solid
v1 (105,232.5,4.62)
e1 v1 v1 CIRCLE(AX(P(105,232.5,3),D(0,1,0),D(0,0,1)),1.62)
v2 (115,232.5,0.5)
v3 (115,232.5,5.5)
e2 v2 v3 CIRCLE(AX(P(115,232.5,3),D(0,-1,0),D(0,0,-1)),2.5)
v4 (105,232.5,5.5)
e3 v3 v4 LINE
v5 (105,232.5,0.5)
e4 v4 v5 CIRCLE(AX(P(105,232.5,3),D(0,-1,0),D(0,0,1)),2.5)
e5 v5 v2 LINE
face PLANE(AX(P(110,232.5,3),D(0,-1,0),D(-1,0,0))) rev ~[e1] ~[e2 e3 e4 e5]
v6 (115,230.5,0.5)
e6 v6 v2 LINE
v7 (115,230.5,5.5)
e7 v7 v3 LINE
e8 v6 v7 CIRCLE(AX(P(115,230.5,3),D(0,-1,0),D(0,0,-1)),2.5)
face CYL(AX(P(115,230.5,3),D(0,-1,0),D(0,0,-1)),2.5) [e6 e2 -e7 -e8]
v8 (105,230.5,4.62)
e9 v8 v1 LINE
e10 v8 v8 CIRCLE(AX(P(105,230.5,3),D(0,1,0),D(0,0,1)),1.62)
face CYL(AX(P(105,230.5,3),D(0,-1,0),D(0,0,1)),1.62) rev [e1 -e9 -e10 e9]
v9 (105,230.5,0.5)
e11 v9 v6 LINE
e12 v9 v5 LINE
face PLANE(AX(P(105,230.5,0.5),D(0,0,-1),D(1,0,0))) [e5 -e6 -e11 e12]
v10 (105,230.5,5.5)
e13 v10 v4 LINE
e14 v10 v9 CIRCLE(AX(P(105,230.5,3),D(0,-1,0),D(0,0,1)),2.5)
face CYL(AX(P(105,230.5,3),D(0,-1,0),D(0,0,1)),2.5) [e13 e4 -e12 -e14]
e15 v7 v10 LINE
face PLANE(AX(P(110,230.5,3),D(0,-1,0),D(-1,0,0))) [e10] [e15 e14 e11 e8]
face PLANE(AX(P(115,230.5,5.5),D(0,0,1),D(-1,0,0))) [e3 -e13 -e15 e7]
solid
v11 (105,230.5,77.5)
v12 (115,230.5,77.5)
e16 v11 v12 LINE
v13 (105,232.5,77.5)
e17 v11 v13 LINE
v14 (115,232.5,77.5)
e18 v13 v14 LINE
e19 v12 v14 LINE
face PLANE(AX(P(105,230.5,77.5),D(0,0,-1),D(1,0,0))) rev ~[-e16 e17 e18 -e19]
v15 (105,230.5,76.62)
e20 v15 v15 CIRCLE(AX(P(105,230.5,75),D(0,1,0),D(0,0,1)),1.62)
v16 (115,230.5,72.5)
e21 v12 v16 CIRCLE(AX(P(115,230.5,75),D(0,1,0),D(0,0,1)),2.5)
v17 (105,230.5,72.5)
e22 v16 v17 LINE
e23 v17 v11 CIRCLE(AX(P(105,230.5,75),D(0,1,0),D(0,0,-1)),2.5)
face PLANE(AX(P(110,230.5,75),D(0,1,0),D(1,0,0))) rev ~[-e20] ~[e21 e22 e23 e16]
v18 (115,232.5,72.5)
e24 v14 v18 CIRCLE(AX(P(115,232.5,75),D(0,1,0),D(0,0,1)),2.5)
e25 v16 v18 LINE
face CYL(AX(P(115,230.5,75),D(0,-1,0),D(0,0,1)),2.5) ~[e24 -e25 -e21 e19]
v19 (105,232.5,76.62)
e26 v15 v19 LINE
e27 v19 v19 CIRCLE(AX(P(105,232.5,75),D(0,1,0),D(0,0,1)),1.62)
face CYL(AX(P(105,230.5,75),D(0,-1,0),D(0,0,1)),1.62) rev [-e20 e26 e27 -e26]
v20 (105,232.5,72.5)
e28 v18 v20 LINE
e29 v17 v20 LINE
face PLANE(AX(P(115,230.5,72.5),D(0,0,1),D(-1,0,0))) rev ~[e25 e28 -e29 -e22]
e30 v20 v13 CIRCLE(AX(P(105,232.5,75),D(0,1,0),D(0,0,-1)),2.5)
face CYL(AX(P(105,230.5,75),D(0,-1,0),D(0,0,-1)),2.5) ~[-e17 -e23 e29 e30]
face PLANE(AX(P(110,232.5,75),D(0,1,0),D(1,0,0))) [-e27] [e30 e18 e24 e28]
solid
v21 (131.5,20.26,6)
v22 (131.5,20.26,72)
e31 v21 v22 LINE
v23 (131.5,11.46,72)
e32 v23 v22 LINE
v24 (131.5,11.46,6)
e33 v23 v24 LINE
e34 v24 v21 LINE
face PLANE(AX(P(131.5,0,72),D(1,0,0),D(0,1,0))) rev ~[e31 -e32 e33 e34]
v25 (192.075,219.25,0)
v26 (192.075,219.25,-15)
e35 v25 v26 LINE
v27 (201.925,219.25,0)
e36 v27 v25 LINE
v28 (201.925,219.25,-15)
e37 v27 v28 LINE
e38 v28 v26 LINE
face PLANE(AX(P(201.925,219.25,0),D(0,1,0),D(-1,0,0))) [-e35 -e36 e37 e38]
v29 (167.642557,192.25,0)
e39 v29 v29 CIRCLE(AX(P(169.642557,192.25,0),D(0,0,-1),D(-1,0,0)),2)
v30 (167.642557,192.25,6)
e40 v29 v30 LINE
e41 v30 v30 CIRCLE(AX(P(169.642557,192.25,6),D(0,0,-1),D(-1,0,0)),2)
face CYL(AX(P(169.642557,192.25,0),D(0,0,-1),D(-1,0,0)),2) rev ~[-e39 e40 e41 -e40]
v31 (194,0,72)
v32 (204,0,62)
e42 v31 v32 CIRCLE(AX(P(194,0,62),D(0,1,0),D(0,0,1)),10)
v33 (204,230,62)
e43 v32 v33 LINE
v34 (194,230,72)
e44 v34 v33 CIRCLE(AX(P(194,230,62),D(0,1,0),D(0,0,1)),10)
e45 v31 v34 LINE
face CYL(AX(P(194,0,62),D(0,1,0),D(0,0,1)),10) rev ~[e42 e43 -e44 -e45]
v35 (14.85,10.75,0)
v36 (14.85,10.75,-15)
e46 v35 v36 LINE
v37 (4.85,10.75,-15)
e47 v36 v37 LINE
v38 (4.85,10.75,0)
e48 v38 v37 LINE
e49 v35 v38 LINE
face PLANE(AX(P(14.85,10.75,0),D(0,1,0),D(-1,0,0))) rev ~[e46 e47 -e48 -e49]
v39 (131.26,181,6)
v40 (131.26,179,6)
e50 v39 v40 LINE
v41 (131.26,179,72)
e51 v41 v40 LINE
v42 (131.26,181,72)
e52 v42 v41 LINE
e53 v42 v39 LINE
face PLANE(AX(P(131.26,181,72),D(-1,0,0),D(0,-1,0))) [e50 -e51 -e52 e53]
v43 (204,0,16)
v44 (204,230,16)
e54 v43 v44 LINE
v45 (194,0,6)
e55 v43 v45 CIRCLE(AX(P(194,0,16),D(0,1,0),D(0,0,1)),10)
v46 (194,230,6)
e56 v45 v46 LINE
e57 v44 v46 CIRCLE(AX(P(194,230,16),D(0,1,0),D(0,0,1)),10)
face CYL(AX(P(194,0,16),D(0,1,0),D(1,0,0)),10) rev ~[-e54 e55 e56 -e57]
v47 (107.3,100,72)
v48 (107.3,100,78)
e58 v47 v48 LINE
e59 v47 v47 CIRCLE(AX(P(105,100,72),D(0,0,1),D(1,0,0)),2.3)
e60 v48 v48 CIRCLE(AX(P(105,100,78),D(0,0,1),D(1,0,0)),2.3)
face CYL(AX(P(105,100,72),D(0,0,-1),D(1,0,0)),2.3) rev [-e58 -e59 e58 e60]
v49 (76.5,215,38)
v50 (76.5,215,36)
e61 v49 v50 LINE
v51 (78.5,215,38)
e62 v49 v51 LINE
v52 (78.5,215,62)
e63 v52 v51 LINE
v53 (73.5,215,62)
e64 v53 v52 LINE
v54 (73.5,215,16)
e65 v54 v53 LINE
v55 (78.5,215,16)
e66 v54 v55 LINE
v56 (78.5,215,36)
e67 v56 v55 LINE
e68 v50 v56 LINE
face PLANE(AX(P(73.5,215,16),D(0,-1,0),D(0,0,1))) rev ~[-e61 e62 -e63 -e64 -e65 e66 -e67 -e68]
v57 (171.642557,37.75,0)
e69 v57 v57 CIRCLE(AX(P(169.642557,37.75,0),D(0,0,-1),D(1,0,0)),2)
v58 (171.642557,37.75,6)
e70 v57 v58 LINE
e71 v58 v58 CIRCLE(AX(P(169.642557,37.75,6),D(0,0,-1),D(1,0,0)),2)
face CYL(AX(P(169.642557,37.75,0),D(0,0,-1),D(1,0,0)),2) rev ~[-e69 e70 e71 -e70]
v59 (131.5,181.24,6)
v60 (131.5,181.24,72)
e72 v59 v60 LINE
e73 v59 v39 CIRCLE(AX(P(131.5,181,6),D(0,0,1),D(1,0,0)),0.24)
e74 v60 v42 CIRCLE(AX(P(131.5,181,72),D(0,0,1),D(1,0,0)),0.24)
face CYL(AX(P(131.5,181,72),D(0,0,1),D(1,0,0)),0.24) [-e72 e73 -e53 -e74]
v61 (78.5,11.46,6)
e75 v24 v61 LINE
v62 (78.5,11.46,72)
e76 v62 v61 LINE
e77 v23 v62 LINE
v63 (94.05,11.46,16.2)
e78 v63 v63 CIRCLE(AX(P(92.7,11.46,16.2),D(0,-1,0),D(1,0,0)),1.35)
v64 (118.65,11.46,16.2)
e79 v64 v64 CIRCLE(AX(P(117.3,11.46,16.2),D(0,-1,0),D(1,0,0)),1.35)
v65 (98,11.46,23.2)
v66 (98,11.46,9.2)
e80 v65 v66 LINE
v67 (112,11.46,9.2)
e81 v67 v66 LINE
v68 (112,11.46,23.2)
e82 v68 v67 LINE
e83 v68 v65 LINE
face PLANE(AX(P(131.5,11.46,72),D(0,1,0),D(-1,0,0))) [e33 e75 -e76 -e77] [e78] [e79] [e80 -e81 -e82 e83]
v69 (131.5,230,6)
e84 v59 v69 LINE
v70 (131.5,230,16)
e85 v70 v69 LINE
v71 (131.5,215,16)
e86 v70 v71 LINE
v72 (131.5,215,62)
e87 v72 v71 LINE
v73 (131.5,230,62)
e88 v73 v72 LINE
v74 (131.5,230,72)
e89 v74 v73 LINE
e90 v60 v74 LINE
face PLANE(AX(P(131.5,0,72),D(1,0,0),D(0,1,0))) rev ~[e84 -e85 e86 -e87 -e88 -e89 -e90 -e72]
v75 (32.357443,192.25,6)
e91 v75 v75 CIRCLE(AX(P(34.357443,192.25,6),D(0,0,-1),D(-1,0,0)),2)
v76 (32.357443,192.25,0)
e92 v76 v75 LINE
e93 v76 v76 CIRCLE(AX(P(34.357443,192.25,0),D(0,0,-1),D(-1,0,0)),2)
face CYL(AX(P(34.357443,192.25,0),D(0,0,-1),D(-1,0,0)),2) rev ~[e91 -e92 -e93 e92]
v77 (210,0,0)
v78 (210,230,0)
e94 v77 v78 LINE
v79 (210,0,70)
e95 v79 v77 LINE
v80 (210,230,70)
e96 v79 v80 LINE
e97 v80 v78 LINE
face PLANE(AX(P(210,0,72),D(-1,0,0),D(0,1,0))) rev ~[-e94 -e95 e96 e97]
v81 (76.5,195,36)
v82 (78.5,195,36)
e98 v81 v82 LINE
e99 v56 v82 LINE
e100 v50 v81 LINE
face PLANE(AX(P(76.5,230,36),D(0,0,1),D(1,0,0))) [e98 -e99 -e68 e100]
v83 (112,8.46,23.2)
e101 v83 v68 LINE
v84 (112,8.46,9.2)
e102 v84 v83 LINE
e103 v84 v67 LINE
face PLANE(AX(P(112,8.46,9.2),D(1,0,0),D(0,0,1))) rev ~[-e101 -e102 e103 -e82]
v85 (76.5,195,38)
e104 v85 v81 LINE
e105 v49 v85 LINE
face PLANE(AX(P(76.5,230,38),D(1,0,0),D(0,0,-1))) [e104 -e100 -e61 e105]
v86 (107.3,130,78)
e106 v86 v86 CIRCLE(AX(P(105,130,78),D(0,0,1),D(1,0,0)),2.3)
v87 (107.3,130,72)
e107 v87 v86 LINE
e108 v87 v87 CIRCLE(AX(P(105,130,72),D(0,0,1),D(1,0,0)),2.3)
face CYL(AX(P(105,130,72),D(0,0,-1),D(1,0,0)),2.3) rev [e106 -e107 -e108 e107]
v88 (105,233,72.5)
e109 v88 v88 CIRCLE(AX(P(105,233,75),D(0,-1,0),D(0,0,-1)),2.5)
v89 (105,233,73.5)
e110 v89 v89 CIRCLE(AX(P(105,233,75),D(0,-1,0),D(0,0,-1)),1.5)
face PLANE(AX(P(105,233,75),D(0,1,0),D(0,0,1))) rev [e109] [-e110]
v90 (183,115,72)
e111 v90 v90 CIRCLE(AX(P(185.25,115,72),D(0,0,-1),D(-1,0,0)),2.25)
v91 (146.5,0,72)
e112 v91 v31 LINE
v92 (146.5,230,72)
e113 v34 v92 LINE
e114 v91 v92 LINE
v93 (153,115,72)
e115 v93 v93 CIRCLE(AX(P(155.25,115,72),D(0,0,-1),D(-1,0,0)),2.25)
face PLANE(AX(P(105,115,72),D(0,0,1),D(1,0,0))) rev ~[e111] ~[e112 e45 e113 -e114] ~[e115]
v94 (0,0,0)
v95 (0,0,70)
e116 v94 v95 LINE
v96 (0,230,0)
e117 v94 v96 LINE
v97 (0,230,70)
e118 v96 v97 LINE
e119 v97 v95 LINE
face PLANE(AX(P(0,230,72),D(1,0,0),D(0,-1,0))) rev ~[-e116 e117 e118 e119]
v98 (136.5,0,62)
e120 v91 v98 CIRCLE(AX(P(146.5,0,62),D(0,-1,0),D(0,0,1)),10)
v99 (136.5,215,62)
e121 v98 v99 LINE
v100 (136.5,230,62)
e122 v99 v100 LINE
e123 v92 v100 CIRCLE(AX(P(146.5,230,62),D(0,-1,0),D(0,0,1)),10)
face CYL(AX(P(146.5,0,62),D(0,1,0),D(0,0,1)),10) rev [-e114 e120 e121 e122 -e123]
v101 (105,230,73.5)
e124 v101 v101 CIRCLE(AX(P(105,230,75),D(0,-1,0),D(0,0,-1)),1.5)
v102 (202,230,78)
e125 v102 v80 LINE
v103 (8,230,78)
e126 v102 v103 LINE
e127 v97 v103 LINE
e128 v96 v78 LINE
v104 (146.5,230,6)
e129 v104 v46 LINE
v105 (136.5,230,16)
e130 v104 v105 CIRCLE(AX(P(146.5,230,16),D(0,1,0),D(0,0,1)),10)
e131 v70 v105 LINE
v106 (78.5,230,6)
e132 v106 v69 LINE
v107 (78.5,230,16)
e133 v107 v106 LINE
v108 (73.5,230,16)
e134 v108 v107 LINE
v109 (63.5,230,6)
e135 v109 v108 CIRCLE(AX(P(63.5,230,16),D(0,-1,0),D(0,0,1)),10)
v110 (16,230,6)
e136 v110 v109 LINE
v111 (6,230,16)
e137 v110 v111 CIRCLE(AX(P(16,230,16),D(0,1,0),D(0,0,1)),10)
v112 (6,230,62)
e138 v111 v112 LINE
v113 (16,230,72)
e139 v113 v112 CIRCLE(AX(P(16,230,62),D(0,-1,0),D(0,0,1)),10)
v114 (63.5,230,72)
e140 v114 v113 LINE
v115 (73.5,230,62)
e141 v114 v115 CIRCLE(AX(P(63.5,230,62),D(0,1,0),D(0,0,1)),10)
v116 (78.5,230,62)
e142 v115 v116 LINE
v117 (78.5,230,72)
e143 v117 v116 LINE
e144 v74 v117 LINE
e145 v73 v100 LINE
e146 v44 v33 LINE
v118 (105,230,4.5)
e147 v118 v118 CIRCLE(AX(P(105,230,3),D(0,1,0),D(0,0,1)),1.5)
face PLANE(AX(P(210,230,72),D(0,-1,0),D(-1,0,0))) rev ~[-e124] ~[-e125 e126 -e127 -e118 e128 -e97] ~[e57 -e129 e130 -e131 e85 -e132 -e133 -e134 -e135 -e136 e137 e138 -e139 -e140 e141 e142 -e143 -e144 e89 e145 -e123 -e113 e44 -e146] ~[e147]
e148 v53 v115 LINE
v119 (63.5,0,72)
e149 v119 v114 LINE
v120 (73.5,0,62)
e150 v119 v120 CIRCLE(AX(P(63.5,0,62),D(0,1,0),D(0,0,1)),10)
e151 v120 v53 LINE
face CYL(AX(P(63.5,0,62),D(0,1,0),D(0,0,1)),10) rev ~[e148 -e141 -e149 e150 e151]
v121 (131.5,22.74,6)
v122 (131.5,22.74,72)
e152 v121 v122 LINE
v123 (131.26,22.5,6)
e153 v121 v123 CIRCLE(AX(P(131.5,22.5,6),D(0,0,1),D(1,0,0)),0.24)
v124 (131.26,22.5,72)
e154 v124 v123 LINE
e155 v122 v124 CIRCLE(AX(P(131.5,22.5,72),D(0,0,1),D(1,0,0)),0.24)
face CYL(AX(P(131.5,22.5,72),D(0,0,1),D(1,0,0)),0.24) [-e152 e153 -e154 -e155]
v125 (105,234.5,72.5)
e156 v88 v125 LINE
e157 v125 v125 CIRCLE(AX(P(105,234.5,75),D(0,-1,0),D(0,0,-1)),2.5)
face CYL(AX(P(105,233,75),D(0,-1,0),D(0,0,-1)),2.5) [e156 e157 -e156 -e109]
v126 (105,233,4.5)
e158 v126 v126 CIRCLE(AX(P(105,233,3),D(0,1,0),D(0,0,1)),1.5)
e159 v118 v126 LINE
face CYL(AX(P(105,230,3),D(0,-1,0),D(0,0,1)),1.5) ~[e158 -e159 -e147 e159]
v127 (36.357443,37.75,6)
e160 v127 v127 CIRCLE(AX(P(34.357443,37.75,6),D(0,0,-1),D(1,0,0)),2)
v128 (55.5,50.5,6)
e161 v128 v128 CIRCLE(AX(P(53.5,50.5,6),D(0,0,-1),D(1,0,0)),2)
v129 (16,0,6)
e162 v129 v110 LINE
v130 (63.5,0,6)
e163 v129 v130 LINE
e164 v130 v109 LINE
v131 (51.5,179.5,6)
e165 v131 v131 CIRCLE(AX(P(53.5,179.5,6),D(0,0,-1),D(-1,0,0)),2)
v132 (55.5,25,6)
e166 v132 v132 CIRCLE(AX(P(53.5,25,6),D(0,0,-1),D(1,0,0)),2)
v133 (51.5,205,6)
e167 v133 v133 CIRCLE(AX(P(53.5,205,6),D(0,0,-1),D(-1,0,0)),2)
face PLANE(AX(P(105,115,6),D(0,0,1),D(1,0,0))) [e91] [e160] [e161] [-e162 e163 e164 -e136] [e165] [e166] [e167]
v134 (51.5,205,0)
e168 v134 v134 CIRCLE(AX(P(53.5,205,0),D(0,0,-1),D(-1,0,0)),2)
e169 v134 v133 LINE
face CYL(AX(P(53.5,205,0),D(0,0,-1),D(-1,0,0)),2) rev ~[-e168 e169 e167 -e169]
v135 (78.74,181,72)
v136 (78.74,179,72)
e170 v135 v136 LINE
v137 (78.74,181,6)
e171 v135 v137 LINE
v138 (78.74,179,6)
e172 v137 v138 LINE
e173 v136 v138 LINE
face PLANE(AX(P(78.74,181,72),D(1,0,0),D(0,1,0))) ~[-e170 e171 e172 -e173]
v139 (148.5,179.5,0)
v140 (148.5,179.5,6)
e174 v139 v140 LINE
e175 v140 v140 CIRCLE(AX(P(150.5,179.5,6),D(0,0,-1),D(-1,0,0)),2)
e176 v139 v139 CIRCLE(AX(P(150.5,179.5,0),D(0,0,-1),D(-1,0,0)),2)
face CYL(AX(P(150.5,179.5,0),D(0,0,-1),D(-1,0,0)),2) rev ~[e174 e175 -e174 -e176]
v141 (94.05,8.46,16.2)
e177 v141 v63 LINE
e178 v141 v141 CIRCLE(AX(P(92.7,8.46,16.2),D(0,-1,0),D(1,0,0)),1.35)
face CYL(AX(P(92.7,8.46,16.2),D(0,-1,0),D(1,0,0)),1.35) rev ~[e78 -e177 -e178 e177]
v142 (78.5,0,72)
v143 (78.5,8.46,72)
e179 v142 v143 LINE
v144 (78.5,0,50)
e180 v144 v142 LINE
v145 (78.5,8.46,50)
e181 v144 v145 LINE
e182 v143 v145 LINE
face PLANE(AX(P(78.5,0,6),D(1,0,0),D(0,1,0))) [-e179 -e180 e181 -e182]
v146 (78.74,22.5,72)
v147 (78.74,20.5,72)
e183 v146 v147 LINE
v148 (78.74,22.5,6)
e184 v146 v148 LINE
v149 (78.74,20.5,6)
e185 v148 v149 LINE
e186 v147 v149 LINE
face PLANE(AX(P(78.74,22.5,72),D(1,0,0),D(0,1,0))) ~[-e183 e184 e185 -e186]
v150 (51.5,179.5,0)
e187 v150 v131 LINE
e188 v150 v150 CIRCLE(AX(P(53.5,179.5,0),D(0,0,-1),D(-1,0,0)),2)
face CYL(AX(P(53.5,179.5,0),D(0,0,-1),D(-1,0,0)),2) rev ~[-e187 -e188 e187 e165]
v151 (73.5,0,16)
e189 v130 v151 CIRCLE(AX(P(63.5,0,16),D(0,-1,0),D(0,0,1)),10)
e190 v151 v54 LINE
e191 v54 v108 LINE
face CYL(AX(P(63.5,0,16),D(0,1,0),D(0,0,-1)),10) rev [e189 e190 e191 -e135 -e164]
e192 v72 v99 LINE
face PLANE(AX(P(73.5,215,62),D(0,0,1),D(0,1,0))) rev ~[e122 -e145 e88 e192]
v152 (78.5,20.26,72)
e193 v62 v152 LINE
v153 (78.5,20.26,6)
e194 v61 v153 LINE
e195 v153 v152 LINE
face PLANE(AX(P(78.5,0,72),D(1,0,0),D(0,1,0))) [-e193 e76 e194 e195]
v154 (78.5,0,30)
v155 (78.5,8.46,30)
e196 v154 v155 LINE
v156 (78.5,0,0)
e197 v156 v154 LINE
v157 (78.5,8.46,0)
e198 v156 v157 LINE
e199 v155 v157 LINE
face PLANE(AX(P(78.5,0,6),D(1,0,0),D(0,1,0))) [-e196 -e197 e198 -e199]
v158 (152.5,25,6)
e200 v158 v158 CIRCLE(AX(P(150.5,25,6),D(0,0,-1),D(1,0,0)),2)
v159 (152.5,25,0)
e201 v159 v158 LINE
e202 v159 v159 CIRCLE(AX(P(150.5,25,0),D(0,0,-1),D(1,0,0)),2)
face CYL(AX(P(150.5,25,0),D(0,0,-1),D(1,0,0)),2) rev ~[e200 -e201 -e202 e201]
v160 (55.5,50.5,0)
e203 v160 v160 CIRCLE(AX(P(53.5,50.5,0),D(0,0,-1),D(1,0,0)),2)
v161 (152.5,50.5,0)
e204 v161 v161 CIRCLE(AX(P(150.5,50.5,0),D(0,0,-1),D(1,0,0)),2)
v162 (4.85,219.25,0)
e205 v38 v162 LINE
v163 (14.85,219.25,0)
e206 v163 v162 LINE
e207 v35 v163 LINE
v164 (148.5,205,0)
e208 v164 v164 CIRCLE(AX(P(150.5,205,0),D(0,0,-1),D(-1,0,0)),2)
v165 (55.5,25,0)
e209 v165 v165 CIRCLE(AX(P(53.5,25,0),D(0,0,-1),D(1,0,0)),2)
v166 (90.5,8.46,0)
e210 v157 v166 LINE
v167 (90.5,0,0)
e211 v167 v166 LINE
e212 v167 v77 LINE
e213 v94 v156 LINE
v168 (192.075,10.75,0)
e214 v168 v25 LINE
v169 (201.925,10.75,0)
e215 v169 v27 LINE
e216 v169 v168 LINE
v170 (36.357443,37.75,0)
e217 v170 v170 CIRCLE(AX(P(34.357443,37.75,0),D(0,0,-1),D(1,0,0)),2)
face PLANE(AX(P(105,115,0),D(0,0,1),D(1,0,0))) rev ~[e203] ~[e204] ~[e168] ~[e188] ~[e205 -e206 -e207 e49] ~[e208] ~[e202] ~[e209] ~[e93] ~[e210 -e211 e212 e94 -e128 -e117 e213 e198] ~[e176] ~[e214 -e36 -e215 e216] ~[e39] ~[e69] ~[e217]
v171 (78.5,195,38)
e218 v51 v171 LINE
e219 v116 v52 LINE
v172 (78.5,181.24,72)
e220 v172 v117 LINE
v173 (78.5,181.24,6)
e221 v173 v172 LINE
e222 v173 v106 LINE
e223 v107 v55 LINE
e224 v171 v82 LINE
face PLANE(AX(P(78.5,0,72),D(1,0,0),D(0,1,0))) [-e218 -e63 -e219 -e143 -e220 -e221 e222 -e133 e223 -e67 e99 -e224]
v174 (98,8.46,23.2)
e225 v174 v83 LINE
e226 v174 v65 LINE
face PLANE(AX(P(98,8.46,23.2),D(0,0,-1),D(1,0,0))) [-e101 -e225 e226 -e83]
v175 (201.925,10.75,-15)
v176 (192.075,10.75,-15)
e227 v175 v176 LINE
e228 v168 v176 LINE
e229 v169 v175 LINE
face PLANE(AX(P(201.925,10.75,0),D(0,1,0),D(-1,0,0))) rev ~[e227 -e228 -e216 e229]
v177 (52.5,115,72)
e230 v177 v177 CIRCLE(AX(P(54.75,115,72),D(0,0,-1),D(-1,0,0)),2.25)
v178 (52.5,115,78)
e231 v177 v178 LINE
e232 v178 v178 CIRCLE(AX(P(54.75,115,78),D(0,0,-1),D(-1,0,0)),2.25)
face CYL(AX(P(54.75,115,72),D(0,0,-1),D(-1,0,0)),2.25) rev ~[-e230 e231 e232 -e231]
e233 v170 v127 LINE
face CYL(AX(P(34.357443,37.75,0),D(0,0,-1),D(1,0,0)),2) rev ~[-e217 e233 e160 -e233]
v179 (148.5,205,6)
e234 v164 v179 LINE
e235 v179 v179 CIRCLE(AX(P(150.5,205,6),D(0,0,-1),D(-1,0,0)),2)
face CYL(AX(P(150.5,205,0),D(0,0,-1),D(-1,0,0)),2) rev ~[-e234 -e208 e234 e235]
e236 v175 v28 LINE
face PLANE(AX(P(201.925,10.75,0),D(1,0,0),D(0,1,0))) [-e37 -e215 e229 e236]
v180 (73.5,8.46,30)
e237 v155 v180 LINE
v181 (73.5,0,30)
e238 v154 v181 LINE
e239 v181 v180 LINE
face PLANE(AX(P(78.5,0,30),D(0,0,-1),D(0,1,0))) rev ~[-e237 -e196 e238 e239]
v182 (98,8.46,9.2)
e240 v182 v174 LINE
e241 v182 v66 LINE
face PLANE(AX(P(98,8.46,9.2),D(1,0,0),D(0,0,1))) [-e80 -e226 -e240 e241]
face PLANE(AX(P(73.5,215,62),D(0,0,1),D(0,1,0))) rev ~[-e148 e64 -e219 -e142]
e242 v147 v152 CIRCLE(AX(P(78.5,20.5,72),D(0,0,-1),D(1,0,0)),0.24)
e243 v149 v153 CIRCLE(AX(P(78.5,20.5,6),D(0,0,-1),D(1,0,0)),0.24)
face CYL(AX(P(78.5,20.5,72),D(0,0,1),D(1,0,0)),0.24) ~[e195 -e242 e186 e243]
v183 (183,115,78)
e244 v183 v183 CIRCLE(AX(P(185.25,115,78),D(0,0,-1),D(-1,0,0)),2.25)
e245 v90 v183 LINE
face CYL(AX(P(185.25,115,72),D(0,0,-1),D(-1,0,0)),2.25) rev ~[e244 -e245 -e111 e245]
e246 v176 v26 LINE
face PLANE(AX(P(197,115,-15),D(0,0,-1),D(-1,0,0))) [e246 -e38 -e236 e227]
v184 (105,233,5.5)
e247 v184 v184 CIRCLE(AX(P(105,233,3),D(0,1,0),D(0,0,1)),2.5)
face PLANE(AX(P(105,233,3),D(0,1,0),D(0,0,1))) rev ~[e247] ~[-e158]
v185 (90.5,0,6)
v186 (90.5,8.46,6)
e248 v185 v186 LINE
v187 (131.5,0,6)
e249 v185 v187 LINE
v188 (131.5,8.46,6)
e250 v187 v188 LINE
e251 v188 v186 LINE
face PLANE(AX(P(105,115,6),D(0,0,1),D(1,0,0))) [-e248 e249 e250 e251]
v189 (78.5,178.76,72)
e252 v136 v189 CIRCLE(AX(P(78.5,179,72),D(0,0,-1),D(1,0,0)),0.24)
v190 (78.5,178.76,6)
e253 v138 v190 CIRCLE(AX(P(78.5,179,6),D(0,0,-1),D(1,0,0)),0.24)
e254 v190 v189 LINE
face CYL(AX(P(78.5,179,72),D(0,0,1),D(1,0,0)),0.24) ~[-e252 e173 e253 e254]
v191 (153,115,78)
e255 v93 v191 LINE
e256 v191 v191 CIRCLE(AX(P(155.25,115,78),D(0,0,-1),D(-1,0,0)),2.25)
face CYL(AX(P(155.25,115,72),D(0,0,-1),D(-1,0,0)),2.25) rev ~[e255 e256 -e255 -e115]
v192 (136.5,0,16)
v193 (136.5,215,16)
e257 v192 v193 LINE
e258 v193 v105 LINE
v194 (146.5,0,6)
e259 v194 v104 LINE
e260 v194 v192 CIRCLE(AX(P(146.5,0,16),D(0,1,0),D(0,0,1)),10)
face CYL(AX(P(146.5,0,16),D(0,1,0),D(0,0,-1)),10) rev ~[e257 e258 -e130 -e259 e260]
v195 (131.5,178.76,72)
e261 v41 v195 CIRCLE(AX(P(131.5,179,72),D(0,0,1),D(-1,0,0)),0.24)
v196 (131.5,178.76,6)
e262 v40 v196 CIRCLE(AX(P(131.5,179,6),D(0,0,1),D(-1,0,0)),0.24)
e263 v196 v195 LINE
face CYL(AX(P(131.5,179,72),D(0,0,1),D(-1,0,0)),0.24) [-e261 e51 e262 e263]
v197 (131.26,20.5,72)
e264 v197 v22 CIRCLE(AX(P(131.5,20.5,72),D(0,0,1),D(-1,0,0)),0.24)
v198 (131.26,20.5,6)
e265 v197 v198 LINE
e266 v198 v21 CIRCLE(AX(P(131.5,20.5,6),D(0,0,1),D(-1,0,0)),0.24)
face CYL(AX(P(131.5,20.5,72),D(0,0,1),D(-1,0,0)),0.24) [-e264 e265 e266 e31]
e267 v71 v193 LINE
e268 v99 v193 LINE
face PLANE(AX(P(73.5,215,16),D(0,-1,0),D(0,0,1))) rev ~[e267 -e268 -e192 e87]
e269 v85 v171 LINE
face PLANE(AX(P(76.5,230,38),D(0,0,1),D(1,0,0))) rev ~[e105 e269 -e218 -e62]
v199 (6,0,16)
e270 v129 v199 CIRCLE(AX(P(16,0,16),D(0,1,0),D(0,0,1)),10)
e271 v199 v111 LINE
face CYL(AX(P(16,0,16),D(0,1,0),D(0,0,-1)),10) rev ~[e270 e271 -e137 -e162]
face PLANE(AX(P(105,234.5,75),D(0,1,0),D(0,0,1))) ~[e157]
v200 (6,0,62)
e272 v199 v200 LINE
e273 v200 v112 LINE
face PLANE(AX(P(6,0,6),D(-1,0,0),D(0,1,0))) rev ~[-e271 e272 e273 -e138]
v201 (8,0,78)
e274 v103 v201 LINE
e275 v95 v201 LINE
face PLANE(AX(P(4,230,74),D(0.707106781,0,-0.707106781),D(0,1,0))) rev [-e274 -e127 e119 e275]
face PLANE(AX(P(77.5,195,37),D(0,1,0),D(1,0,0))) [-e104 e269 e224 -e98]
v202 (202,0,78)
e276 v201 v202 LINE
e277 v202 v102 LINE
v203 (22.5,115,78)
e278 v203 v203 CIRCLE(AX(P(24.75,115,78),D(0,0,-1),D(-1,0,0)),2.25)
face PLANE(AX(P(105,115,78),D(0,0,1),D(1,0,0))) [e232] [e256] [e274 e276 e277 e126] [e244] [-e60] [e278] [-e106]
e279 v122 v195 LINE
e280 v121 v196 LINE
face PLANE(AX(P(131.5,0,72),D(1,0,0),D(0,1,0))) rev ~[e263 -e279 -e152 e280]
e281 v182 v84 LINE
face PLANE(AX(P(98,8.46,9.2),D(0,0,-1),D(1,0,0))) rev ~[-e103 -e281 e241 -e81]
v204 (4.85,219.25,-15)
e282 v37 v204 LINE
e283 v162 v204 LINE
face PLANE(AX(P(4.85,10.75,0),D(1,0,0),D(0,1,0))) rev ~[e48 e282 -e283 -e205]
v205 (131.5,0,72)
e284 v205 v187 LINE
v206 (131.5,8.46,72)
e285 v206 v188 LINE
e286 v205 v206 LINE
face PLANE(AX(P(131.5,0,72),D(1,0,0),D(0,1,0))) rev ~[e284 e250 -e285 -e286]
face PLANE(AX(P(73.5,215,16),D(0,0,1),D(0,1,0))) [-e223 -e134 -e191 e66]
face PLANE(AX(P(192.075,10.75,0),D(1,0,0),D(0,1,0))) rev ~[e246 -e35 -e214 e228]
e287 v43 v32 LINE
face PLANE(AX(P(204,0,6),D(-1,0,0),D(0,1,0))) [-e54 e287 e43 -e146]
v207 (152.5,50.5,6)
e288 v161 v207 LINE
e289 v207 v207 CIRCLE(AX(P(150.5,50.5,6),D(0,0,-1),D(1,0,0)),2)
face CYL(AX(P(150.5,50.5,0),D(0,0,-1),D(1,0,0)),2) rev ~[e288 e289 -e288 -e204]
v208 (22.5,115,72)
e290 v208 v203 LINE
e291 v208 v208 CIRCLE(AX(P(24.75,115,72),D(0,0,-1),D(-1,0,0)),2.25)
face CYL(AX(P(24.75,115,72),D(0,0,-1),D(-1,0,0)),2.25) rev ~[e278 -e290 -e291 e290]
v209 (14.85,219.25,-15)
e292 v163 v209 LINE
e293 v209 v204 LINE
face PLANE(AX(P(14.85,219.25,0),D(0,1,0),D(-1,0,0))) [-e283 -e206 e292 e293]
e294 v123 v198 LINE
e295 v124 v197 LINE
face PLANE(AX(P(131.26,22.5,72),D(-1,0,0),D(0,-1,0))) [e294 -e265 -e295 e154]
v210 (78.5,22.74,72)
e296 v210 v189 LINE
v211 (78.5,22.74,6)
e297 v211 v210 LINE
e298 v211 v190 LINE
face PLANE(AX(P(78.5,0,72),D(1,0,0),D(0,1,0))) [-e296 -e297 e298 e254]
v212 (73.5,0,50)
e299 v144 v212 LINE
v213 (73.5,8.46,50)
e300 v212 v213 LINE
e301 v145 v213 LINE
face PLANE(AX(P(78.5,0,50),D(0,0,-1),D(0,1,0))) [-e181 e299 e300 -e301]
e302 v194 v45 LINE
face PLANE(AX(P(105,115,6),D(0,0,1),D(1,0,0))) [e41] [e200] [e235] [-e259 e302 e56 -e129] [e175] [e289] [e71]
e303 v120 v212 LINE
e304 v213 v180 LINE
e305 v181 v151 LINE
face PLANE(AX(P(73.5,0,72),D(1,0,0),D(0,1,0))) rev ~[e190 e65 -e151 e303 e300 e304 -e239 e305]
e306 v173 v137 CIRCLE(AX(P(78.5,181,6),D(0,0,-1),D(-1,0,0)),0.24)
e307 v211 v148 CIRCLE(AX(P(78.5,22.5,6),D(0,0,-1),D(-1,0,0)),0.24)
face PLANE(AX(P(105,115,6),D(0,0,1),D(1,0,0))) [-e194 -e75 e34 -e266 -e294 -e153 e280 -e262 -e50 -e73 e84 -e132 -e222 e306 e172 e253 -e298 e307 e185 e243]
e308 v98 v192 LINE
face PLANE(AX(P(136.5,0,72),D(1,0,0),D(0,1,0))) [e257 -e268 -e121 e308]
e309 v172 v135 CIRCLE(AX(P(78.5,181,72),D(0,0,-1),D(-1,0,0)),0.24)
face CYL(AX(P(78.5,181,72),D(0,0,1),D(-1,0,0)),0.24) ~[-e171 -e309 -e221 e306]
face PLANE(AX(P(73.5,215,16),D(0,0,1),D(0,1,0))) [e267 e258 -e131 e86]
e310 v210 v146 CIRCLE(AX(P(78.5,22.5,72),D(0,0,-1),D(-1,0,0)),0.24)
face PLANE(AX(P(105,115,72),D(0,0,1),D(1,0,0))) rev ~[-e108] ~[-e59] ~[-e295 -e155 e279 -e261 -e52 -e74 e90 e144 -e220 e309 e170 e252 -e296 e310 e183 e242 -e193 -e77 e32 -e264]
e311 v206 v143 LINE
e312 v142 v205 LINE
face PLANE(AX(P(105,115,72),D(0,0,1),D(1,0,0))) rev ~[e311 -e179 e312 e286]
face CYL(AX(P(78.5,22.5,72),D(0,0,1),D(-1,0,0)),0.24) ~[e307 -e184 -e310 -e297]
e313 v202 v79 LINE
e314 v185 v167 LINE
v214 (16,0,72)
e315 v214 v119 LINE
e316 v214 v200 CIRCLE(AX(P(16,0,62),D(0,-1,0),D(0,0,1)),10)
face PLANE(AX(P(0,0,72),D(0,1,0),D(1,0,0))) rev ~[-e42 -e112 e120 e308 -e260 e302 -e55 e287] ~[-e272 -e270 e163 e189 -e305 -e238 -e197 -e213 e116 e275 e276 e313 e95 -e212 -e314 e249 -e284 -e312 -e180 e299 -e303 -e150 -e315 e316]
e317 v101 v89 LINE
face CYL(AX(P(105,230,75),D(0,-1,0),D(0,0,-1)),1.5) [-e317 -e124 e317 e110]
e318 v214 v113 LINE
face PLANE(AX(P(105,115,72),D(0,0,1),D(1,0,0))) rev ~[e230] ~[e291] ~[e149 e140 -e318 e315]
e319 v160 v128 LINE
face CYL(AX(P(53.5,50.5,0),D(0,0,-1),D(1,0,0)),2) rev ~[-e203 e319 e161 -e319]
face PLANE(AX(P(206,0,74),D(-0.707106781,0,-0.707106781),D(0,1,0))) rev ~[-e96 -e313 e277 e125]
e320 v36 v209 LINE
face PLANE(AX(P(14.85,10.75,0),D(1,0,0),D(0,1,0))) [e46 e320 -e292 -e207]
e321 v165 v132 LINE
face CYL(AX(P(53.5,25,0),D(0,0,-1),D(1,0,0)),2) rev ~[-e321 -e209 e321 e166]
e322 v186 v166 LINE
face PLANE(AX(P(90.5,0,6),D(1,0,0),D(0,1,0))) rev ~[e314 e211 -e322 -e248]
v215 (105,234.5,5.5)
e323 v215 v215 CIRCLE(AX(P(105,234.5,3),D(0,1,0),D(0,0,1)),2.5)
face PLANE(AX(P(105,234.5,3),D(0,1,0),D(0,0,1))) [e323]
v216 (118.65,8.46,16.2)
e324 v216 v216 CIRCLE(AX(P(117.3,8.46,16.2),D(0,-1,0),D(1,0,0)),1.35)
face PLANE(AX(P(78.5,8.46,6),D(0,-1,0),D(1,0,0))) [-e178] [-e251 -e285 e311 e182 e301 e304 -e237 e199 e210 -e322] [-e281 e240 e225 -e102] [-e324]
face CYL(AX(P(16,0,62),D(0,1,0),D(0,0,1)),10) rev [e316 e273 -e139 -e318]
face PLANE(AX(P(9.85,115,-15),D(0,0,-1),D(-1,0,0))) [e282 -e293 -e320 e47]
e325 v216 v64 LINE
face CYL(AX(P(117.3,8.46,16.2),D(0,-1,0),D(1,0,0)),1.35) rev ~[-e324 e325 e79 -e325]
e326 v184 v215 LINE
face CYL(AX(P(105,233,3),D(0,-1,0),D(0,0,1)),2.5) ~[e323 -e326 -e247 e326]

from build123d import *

# Parameters (mm, degrees)
SKETCH_1_W           = 210
SKETCH_1_H           = 230
EXTRUDE_1_DEPTH      = 6
SKETCH_2_W           = 9.85
SKETCH_2_H           = 208.5
SKETCH_2_W_2         = 10
EXTRUDE_3_DEPTH      = 15
SKETCH_3_R           = 2
CUT_EXTRUDE_1_DEPTH  = 10
SKETCH_17_W          = 6
SKETCH_17_H          = 230
EXTRUDE_9_DEPTH      = 66
EXTRUDE_10_DEPTH     = 6
CHAMFER_3_SIZE       = 8
SKETCH_19_W          = 5
SKETCH_19_H          = 230
EXTRUDE_11_DEPTH     = 66
FILLET_4_R           = 10
SKETCH_21_R          = 2.3
CUT_EXTRUDE_9_DEPTH  = 6
EXTRUDE_13_DEPTH     = 66
SKETCH_28_W          = 53
SKETCH_28_H          = 3
EXTRUDE_14_DEPTH     = 66
SKETCH_30_W          = 2
SKETCH_30_H          = 2
CUT_EXTRUDE_10_DEPTH = 35
SKETCH_31_R          = 1.35
SKETCH_31_W          = 14
SKETCH_31_H          = 14
CUT_EXTRUDE_11_DEPTH = 316.06185361
SKETCH_34_R          = 2.25
CUT_EXTRUDE_14_DEPTH = 30
SKETCH_36_R          = 2.25
CUT_EXTRUDE_15_DEPTH = 30
SKETCH_39_W          = 46
SKETCH_39_H          = 15
CUT_EXTRUDE_16_DEPTH = 104
SKETCH_40_R          = 1.5
EXTRUDE_16_DEPTH     = 3
SKETCH_41_R          = 2.5
EXTRUDE_17_DEPTH     = 1.5
SKETCH_44_R          = 1.62
EXTRUDE_19_DEPTH     = 2
SKETCH_46_R          = 1.62
EXTRUDE_20_DEPTH     = 2
SKETCH_49_W          = 12
SKETCH_49_H          = 8.46
CUT_EXTRUDE_17_DEPTH = 10
SKETCH_50_W          = 20
SKETCH_50_H          = 8.46
CUT_EXTRUDE_18_DEPTH = 10


with BuildPart() as part:
    # 草图1 → 凸台-拉伸1 (new body)
    with BuildSketch(Plane.XY):
        with Locations((105, 115)):
            Rectangle(SKETCH_1_W, SKETCH_1_H)
    extrude(amount=EXTRUDE_1_DEPTH)

    # 草图2 → 凸台-拉伸3 (add)
    with BuildSketch(Plane(origin=(0, 0, 0), x_dir=(-1, 0, 0), z_dir=(0, 0, -1))):
        with Locations((-197, 115)):
            Rectangle(SKETCH_2_W, SKETCH_2_H)
        with Locations((-9.85, 115)):
            Rectangle(SKETCH_2_W_2, SKETCH_2_H)
    extrude(amount=EXTRUDE_3_DEPTH)

    # 草图3 → 切除-拉伸1 (cut)
    with BuildSketch(Plane(origin=(0, 0, 0), x_dir=(-1, 0, 0), z_dir=(0, 0, -1))):
        with Locations((-169.6425573, 192.25)):
            Circle(SKETCH_3_R)
        with Locations((-150.5, 205)):
            Circle(SKETCH_3_R)
        with Locations((-150.5, 179.5)):
            Circle(SKETCH_3_R)
        with Locations(Location((-150.5, 50.5, 0), (0, 0, 180))):
            Circle(SKETCH_3_R)
        with Locations(Location((-150.5, 25, 0), (0, 0, 180))):
            Circle(SKETCH_3_R)
        with Locations(Location((-169.6425573, 37.75, 0), (0, 0, 180))):
            Circle(SKETCH_3_R)
        with Locations((-34.3574427, 192.25)):
            Circle(SKETCH_3_R)
        with Locations((-53.5, 205)):
            Circle(SKETCH_3_R)
        with Locations((-53.5, 179.5)):
            Circle(SKETCH_3_R)
        with Locations(Location((-53.5, 50.5, 0), (0, 0, 180))):
            Circle(SKETCH_3_R)
        with Locations(Location((-53.5, 25, 0), (0, 0, 180))):
            Circle(SKETCH_3_R)
        with Locations(Location((-34.3574427, 37.75, 0), (0, 0, 180))):
            Circle(SKETCH_3_R)
    extrude(amount=-CUT_EXTRUDE_1_DEPTH, mode=Mode.SUBTRACT)

    # 草图17 → 凸台-拉伸9 (add)
    with BuildSketch(Plane.XY.offset(6)):
        with Locations((3, 115)):
            Rectangle(SKETCH_17_W, SKETCH_17_H)
        with Locations((207, 115)):
            Rectangle(SKETCH_17_W, SKETCH_17_H)
    extrude(amount=EXTRUDE_9_DEPTH)

    # 草图18 → 凸台-拉伸10 (add)
    with BuildSketch(Plane.XY.offset(72)):
        Polygon((210, 230), (204, 230), (6, 230), (0, 230), (0, 0), (6, 0), (204, 0), (210, 0), align=None)
    extrude(amount=EXTRUDE_10_DEPTH)

    # 倒角3
    chamfer_3_edges = [part.edges().sort_by_distance(p)[0] for p in [
        (210, 115, 78),
        (0, 115, 78),
    ]]
    chamfer(chamfer_3_edges, length=CHAMFER_3_SIZE)

    # 草图19 → 凸台-拉伸11 (add)
    with BuildSketch(Plane(origin=(0, 0, 72), x_dir=(-1, 0, 0), z_dir=(0, 0, -1))):
        with Locations((-134, 115)):
            Rectangle(SKETCH_19_W, SKETCH_19_H)
        with Locations((-76, 115)):
            Rectangle(SKETCH_19_W, SKETCH_19_H)
    extrude(amount=EXTRUDE_11_DEPTH)

    # 圆角4
    fillet_4_edges = [part.edges().sort_by_distance(p)[0] for p in [
        (6, 115, 6),
        (6, 115, 72),
        (204, 115, 6),
        (204, 115, 72),
        (73.5, 115, 6),
        (73.5, 115, 72),
        (136.5, 115, 72),
        (136.5, 115, 6),
    ]]
    fillet(fillet_4_edges, radius=FILLET_4_R)

    # 草图21 → 切除-拉伸9 (cut)
    with BuildSketch(Plane.XY.offset(72)):
        with Locations((105, 130)):
            Circle(SKETCH_21_R)
        with Locations((105, 100)):
            Circle(SKETCH_21_R)
    extrude(amount=CUT_EXTRUDE_9_DEPTH, mode=Mode.SUBTRACT)

    # 草图26 → 凸台-拉伸13 (add)
    with BuildSketch(Plane(origin=(0, 0, 72), x_dir=(-1, 0, 0), z_dir=(0, 0, -1))):
        with BuildLine():
            Line((-131.26, 181), (-131.26, 179))
            ThreePointArc((-131.26, 179), (-131.5, 178.76), (-131.74, 179))
            Line((-131.74, 179), (-131.74, 181))
            ThreePointArc((-131.74, 181), (-131.5, 181.24), (-131.26, 181))
        make_face()
        with BuildLine():
            Line((-131.26, 22.5), (-131.26, 20.5))
            ThreePointArc((-131.26, 20.5), (-131.5, 20.26), (-131.74, 20.5))
            Line((-131.74, 20.5), (-131.74, 22.5))
            ThreePointArc((-131.74, 22.5), (-131.5, 22.74), (-131.26, 22.5))
        make_face()
    extrude_13 = extrude(amount=EXTRUDE_13_DEPTH)

    # 镜向2: 凸台-拉伸13 across plane
    add(extrude_13.mirror(Plane.ZY.offset(-105)))

    # 草图28 → 凸台-拉伸14 (add)
    with BuildSketch(Plane(origin=(0, 0, 72), x_dir=(-1, 0, 0), z_dir=(0, 0, -1))):
        with Locations((-105, 9.96)):
            Rectangle(SKETCH_28_W, SKETCH_28_H)
    extrude(amount=EXTRUDE_14_DEPTH)

    # 草图30 → 切除-拉伸10 (cut)
    with BuildSketch(Plane(origin=(0, 230, 0), x_dir=(1, 0, 0), z_dir=(0, 1, 0))):
        with Locations((77.5, -37)):
            Rectangle(SKETCH_30_W, SKETCH_30_H)
    extrude(amount=-CUT_EXTRUDE_10_DEPTH, mode=Mode.SUBTRACT)

    # 草图31 → 切除-拉伸11 (cut, through all)
    with BuildSketch(Plane.XZ.offset(-8.46)):
        with Locations((92.7, 16.2)):
            Circle(SKETCH_31_R)
        with Locations((117.3, 16.2)):
            Circle(SKETCH_31_R)
        with Locations((105, 16.2)):
            Rectangle(SKETCH_31_W, SKETCH_31_H)
    extrude(amount=-CUT_EXTRUDE_11_DEPTH, mode=Mode.SUBTRACT)

    # 草图34 → 切除-拉伸14 (cut)
    with BuildSketch(Plane(origin=(0, 0, 72), x_dir=(-1, 0, 0), z_dir=(0, 0, -1))):
        with Locations((-185.25, 115)):
            Circle(SKETCH_34_R)
        with Locations((-155.25, 115)):
            Circle(SKETCH_34_R)
    extrude(amount=-CUT_EXTRUDE_14_DEPTH, mode=Mode.SUBTRACT)

    # 草图36 → 切除-拉伸15 (cut)
    with BuildSketch(Plane(origin=(0, 0, 72), x_dir=(-1, 0, 0), z_dir=(0, 0, -1))):
        with Locations((-54.75, 115)):
            Circle(SKETCH_36_R)
        with Locations((-24.75, 115)):
            Circle(SKETCH_36_R)
    extrude(amount=-CUT_EXTRUDE_15_DEPTH, mode=Mode.SUBTRACT)

    # 草图39 → 切除-拉伸16 (cut)
    with BuildSketch(Plane.ZY.offset(-73.5)):
        with Locations((39, 222.5)):
            Rectangle(SKETCH_39_W, SKETCH_39_H)
    extrude(amount=-CUT_EXTRUDE_16_DEPTH, mode=Mode.SUBTRACT)

    # 草图40 → 凸台-拉伸16 (add)
    with BuildSketch(Plane(origin=(0, 230, 0), x_dir=(1, 0, 0), z_dir=(0, 1, 0))):
        with Locations(Location((105, -3, 0), (0, 0, 270))):
            Circle(SKETCH_40_R)
    extrude_16 = extrude(amount=EXTRUDE_16_DEPTH)

    # 草图41 → 凸台-拉伸17 (add)
    with BuildSketch(Plane(origin=(0, 233, 0), x_dir=(1, 0, 0), z_dir=(0, 1, 0))):
        with Locations(Location((105, -3, 0), (0, 0, 270))):
            Circle(SKETCH_41_R)
    extrude_17 = extrude(amount=EXTRUDE_17_DEPTH)

    # 镜向3: 凸台-拉伸16, 凸台-拉伸17 across plane
    add(extrude_16.mirror(Plane.XY.offset(39)))
    add(extrude_17.mirror(Plane.XY.offset(39)))

    # 草图49 → 切除-拉伸17 (cut)
    with BuildSketch(Plane.XY.offset(6)):
        with Locations((84.5, 4.23)):
            Rectangle(SKETCH_49_W, SKETCH_49_H)
    extrude(amount=-CUT_EXTRUDE_17_DEPTH, mode=Mode.SUBTRACT)

    # 草图50 → 切除-拉伸18 (cut)
    with BuildSketch(Plane(origin=(78.5, 0, 0), x_dir=(0, 0, -1), z_dir=(1, 0, 0))):
        with Locations((-40, 4.23)):
            Rectangle(SKETCH_50_W, SKETCH_50_H)
    extrude(amount=-CUT_EXTRUDE_18_DEPTH, mode=Mode.SUBTRACT)


with BuildPart() as body_2:
    # 草图44 → 凸台-拉伸19 (new body)
    with BuildSketch(Plane(origin=(0, 230.5, 0), x_dir=(1, 0, 0), z_dir=(0, 1, 0))):
        with BuildLine():
            Line((105, -0.5), (115, -0.5))
            ThreePointArc((115, -0.5), (117.5, -3), (115, -5.5))
            Line((115, -5.5), (105, -5.5))
            ThreePointArc((105, -5.5), (102.5, -3), (105, -0.5))
        make_face()
        with Locations(Location((105, -3, 0), (0, 0, 270))):
            Circle(SKETCH_44_R, mode=Mode.SUBTRACT)
    extrude(amount=EXTRUDE_19_DEPTH)


with BuildPart() as body_3:
    # 草图46 → 凸台-拉伸20 (new body)
    with BuildSketch(Plane(origin=(0, 230.5, 0), x_dir=(1, 0, 0), z_dir=(0, 1, 0))):
        with BuildLine():
            Line((115, -72.5), (105, -72.5))
            ThreePointArc((105, -72.5), (102.5, -75), (105, -77.5))
            Line((105, -77.5), (115, -77.5))
            ThreePointArc((115, -77.5), (117.5, -75), (115, -72.5))
        make_face()
        with Locations(Location((105, -75, 0), (0, 0, 270))):
            Circle(SKETCH_46_R, mode=Mode.SUBTRACT)
    extrude(amount=EXTRUDE_20_DEPTH)


solid = Compound([part.part, body_2.part, body_3.part])
